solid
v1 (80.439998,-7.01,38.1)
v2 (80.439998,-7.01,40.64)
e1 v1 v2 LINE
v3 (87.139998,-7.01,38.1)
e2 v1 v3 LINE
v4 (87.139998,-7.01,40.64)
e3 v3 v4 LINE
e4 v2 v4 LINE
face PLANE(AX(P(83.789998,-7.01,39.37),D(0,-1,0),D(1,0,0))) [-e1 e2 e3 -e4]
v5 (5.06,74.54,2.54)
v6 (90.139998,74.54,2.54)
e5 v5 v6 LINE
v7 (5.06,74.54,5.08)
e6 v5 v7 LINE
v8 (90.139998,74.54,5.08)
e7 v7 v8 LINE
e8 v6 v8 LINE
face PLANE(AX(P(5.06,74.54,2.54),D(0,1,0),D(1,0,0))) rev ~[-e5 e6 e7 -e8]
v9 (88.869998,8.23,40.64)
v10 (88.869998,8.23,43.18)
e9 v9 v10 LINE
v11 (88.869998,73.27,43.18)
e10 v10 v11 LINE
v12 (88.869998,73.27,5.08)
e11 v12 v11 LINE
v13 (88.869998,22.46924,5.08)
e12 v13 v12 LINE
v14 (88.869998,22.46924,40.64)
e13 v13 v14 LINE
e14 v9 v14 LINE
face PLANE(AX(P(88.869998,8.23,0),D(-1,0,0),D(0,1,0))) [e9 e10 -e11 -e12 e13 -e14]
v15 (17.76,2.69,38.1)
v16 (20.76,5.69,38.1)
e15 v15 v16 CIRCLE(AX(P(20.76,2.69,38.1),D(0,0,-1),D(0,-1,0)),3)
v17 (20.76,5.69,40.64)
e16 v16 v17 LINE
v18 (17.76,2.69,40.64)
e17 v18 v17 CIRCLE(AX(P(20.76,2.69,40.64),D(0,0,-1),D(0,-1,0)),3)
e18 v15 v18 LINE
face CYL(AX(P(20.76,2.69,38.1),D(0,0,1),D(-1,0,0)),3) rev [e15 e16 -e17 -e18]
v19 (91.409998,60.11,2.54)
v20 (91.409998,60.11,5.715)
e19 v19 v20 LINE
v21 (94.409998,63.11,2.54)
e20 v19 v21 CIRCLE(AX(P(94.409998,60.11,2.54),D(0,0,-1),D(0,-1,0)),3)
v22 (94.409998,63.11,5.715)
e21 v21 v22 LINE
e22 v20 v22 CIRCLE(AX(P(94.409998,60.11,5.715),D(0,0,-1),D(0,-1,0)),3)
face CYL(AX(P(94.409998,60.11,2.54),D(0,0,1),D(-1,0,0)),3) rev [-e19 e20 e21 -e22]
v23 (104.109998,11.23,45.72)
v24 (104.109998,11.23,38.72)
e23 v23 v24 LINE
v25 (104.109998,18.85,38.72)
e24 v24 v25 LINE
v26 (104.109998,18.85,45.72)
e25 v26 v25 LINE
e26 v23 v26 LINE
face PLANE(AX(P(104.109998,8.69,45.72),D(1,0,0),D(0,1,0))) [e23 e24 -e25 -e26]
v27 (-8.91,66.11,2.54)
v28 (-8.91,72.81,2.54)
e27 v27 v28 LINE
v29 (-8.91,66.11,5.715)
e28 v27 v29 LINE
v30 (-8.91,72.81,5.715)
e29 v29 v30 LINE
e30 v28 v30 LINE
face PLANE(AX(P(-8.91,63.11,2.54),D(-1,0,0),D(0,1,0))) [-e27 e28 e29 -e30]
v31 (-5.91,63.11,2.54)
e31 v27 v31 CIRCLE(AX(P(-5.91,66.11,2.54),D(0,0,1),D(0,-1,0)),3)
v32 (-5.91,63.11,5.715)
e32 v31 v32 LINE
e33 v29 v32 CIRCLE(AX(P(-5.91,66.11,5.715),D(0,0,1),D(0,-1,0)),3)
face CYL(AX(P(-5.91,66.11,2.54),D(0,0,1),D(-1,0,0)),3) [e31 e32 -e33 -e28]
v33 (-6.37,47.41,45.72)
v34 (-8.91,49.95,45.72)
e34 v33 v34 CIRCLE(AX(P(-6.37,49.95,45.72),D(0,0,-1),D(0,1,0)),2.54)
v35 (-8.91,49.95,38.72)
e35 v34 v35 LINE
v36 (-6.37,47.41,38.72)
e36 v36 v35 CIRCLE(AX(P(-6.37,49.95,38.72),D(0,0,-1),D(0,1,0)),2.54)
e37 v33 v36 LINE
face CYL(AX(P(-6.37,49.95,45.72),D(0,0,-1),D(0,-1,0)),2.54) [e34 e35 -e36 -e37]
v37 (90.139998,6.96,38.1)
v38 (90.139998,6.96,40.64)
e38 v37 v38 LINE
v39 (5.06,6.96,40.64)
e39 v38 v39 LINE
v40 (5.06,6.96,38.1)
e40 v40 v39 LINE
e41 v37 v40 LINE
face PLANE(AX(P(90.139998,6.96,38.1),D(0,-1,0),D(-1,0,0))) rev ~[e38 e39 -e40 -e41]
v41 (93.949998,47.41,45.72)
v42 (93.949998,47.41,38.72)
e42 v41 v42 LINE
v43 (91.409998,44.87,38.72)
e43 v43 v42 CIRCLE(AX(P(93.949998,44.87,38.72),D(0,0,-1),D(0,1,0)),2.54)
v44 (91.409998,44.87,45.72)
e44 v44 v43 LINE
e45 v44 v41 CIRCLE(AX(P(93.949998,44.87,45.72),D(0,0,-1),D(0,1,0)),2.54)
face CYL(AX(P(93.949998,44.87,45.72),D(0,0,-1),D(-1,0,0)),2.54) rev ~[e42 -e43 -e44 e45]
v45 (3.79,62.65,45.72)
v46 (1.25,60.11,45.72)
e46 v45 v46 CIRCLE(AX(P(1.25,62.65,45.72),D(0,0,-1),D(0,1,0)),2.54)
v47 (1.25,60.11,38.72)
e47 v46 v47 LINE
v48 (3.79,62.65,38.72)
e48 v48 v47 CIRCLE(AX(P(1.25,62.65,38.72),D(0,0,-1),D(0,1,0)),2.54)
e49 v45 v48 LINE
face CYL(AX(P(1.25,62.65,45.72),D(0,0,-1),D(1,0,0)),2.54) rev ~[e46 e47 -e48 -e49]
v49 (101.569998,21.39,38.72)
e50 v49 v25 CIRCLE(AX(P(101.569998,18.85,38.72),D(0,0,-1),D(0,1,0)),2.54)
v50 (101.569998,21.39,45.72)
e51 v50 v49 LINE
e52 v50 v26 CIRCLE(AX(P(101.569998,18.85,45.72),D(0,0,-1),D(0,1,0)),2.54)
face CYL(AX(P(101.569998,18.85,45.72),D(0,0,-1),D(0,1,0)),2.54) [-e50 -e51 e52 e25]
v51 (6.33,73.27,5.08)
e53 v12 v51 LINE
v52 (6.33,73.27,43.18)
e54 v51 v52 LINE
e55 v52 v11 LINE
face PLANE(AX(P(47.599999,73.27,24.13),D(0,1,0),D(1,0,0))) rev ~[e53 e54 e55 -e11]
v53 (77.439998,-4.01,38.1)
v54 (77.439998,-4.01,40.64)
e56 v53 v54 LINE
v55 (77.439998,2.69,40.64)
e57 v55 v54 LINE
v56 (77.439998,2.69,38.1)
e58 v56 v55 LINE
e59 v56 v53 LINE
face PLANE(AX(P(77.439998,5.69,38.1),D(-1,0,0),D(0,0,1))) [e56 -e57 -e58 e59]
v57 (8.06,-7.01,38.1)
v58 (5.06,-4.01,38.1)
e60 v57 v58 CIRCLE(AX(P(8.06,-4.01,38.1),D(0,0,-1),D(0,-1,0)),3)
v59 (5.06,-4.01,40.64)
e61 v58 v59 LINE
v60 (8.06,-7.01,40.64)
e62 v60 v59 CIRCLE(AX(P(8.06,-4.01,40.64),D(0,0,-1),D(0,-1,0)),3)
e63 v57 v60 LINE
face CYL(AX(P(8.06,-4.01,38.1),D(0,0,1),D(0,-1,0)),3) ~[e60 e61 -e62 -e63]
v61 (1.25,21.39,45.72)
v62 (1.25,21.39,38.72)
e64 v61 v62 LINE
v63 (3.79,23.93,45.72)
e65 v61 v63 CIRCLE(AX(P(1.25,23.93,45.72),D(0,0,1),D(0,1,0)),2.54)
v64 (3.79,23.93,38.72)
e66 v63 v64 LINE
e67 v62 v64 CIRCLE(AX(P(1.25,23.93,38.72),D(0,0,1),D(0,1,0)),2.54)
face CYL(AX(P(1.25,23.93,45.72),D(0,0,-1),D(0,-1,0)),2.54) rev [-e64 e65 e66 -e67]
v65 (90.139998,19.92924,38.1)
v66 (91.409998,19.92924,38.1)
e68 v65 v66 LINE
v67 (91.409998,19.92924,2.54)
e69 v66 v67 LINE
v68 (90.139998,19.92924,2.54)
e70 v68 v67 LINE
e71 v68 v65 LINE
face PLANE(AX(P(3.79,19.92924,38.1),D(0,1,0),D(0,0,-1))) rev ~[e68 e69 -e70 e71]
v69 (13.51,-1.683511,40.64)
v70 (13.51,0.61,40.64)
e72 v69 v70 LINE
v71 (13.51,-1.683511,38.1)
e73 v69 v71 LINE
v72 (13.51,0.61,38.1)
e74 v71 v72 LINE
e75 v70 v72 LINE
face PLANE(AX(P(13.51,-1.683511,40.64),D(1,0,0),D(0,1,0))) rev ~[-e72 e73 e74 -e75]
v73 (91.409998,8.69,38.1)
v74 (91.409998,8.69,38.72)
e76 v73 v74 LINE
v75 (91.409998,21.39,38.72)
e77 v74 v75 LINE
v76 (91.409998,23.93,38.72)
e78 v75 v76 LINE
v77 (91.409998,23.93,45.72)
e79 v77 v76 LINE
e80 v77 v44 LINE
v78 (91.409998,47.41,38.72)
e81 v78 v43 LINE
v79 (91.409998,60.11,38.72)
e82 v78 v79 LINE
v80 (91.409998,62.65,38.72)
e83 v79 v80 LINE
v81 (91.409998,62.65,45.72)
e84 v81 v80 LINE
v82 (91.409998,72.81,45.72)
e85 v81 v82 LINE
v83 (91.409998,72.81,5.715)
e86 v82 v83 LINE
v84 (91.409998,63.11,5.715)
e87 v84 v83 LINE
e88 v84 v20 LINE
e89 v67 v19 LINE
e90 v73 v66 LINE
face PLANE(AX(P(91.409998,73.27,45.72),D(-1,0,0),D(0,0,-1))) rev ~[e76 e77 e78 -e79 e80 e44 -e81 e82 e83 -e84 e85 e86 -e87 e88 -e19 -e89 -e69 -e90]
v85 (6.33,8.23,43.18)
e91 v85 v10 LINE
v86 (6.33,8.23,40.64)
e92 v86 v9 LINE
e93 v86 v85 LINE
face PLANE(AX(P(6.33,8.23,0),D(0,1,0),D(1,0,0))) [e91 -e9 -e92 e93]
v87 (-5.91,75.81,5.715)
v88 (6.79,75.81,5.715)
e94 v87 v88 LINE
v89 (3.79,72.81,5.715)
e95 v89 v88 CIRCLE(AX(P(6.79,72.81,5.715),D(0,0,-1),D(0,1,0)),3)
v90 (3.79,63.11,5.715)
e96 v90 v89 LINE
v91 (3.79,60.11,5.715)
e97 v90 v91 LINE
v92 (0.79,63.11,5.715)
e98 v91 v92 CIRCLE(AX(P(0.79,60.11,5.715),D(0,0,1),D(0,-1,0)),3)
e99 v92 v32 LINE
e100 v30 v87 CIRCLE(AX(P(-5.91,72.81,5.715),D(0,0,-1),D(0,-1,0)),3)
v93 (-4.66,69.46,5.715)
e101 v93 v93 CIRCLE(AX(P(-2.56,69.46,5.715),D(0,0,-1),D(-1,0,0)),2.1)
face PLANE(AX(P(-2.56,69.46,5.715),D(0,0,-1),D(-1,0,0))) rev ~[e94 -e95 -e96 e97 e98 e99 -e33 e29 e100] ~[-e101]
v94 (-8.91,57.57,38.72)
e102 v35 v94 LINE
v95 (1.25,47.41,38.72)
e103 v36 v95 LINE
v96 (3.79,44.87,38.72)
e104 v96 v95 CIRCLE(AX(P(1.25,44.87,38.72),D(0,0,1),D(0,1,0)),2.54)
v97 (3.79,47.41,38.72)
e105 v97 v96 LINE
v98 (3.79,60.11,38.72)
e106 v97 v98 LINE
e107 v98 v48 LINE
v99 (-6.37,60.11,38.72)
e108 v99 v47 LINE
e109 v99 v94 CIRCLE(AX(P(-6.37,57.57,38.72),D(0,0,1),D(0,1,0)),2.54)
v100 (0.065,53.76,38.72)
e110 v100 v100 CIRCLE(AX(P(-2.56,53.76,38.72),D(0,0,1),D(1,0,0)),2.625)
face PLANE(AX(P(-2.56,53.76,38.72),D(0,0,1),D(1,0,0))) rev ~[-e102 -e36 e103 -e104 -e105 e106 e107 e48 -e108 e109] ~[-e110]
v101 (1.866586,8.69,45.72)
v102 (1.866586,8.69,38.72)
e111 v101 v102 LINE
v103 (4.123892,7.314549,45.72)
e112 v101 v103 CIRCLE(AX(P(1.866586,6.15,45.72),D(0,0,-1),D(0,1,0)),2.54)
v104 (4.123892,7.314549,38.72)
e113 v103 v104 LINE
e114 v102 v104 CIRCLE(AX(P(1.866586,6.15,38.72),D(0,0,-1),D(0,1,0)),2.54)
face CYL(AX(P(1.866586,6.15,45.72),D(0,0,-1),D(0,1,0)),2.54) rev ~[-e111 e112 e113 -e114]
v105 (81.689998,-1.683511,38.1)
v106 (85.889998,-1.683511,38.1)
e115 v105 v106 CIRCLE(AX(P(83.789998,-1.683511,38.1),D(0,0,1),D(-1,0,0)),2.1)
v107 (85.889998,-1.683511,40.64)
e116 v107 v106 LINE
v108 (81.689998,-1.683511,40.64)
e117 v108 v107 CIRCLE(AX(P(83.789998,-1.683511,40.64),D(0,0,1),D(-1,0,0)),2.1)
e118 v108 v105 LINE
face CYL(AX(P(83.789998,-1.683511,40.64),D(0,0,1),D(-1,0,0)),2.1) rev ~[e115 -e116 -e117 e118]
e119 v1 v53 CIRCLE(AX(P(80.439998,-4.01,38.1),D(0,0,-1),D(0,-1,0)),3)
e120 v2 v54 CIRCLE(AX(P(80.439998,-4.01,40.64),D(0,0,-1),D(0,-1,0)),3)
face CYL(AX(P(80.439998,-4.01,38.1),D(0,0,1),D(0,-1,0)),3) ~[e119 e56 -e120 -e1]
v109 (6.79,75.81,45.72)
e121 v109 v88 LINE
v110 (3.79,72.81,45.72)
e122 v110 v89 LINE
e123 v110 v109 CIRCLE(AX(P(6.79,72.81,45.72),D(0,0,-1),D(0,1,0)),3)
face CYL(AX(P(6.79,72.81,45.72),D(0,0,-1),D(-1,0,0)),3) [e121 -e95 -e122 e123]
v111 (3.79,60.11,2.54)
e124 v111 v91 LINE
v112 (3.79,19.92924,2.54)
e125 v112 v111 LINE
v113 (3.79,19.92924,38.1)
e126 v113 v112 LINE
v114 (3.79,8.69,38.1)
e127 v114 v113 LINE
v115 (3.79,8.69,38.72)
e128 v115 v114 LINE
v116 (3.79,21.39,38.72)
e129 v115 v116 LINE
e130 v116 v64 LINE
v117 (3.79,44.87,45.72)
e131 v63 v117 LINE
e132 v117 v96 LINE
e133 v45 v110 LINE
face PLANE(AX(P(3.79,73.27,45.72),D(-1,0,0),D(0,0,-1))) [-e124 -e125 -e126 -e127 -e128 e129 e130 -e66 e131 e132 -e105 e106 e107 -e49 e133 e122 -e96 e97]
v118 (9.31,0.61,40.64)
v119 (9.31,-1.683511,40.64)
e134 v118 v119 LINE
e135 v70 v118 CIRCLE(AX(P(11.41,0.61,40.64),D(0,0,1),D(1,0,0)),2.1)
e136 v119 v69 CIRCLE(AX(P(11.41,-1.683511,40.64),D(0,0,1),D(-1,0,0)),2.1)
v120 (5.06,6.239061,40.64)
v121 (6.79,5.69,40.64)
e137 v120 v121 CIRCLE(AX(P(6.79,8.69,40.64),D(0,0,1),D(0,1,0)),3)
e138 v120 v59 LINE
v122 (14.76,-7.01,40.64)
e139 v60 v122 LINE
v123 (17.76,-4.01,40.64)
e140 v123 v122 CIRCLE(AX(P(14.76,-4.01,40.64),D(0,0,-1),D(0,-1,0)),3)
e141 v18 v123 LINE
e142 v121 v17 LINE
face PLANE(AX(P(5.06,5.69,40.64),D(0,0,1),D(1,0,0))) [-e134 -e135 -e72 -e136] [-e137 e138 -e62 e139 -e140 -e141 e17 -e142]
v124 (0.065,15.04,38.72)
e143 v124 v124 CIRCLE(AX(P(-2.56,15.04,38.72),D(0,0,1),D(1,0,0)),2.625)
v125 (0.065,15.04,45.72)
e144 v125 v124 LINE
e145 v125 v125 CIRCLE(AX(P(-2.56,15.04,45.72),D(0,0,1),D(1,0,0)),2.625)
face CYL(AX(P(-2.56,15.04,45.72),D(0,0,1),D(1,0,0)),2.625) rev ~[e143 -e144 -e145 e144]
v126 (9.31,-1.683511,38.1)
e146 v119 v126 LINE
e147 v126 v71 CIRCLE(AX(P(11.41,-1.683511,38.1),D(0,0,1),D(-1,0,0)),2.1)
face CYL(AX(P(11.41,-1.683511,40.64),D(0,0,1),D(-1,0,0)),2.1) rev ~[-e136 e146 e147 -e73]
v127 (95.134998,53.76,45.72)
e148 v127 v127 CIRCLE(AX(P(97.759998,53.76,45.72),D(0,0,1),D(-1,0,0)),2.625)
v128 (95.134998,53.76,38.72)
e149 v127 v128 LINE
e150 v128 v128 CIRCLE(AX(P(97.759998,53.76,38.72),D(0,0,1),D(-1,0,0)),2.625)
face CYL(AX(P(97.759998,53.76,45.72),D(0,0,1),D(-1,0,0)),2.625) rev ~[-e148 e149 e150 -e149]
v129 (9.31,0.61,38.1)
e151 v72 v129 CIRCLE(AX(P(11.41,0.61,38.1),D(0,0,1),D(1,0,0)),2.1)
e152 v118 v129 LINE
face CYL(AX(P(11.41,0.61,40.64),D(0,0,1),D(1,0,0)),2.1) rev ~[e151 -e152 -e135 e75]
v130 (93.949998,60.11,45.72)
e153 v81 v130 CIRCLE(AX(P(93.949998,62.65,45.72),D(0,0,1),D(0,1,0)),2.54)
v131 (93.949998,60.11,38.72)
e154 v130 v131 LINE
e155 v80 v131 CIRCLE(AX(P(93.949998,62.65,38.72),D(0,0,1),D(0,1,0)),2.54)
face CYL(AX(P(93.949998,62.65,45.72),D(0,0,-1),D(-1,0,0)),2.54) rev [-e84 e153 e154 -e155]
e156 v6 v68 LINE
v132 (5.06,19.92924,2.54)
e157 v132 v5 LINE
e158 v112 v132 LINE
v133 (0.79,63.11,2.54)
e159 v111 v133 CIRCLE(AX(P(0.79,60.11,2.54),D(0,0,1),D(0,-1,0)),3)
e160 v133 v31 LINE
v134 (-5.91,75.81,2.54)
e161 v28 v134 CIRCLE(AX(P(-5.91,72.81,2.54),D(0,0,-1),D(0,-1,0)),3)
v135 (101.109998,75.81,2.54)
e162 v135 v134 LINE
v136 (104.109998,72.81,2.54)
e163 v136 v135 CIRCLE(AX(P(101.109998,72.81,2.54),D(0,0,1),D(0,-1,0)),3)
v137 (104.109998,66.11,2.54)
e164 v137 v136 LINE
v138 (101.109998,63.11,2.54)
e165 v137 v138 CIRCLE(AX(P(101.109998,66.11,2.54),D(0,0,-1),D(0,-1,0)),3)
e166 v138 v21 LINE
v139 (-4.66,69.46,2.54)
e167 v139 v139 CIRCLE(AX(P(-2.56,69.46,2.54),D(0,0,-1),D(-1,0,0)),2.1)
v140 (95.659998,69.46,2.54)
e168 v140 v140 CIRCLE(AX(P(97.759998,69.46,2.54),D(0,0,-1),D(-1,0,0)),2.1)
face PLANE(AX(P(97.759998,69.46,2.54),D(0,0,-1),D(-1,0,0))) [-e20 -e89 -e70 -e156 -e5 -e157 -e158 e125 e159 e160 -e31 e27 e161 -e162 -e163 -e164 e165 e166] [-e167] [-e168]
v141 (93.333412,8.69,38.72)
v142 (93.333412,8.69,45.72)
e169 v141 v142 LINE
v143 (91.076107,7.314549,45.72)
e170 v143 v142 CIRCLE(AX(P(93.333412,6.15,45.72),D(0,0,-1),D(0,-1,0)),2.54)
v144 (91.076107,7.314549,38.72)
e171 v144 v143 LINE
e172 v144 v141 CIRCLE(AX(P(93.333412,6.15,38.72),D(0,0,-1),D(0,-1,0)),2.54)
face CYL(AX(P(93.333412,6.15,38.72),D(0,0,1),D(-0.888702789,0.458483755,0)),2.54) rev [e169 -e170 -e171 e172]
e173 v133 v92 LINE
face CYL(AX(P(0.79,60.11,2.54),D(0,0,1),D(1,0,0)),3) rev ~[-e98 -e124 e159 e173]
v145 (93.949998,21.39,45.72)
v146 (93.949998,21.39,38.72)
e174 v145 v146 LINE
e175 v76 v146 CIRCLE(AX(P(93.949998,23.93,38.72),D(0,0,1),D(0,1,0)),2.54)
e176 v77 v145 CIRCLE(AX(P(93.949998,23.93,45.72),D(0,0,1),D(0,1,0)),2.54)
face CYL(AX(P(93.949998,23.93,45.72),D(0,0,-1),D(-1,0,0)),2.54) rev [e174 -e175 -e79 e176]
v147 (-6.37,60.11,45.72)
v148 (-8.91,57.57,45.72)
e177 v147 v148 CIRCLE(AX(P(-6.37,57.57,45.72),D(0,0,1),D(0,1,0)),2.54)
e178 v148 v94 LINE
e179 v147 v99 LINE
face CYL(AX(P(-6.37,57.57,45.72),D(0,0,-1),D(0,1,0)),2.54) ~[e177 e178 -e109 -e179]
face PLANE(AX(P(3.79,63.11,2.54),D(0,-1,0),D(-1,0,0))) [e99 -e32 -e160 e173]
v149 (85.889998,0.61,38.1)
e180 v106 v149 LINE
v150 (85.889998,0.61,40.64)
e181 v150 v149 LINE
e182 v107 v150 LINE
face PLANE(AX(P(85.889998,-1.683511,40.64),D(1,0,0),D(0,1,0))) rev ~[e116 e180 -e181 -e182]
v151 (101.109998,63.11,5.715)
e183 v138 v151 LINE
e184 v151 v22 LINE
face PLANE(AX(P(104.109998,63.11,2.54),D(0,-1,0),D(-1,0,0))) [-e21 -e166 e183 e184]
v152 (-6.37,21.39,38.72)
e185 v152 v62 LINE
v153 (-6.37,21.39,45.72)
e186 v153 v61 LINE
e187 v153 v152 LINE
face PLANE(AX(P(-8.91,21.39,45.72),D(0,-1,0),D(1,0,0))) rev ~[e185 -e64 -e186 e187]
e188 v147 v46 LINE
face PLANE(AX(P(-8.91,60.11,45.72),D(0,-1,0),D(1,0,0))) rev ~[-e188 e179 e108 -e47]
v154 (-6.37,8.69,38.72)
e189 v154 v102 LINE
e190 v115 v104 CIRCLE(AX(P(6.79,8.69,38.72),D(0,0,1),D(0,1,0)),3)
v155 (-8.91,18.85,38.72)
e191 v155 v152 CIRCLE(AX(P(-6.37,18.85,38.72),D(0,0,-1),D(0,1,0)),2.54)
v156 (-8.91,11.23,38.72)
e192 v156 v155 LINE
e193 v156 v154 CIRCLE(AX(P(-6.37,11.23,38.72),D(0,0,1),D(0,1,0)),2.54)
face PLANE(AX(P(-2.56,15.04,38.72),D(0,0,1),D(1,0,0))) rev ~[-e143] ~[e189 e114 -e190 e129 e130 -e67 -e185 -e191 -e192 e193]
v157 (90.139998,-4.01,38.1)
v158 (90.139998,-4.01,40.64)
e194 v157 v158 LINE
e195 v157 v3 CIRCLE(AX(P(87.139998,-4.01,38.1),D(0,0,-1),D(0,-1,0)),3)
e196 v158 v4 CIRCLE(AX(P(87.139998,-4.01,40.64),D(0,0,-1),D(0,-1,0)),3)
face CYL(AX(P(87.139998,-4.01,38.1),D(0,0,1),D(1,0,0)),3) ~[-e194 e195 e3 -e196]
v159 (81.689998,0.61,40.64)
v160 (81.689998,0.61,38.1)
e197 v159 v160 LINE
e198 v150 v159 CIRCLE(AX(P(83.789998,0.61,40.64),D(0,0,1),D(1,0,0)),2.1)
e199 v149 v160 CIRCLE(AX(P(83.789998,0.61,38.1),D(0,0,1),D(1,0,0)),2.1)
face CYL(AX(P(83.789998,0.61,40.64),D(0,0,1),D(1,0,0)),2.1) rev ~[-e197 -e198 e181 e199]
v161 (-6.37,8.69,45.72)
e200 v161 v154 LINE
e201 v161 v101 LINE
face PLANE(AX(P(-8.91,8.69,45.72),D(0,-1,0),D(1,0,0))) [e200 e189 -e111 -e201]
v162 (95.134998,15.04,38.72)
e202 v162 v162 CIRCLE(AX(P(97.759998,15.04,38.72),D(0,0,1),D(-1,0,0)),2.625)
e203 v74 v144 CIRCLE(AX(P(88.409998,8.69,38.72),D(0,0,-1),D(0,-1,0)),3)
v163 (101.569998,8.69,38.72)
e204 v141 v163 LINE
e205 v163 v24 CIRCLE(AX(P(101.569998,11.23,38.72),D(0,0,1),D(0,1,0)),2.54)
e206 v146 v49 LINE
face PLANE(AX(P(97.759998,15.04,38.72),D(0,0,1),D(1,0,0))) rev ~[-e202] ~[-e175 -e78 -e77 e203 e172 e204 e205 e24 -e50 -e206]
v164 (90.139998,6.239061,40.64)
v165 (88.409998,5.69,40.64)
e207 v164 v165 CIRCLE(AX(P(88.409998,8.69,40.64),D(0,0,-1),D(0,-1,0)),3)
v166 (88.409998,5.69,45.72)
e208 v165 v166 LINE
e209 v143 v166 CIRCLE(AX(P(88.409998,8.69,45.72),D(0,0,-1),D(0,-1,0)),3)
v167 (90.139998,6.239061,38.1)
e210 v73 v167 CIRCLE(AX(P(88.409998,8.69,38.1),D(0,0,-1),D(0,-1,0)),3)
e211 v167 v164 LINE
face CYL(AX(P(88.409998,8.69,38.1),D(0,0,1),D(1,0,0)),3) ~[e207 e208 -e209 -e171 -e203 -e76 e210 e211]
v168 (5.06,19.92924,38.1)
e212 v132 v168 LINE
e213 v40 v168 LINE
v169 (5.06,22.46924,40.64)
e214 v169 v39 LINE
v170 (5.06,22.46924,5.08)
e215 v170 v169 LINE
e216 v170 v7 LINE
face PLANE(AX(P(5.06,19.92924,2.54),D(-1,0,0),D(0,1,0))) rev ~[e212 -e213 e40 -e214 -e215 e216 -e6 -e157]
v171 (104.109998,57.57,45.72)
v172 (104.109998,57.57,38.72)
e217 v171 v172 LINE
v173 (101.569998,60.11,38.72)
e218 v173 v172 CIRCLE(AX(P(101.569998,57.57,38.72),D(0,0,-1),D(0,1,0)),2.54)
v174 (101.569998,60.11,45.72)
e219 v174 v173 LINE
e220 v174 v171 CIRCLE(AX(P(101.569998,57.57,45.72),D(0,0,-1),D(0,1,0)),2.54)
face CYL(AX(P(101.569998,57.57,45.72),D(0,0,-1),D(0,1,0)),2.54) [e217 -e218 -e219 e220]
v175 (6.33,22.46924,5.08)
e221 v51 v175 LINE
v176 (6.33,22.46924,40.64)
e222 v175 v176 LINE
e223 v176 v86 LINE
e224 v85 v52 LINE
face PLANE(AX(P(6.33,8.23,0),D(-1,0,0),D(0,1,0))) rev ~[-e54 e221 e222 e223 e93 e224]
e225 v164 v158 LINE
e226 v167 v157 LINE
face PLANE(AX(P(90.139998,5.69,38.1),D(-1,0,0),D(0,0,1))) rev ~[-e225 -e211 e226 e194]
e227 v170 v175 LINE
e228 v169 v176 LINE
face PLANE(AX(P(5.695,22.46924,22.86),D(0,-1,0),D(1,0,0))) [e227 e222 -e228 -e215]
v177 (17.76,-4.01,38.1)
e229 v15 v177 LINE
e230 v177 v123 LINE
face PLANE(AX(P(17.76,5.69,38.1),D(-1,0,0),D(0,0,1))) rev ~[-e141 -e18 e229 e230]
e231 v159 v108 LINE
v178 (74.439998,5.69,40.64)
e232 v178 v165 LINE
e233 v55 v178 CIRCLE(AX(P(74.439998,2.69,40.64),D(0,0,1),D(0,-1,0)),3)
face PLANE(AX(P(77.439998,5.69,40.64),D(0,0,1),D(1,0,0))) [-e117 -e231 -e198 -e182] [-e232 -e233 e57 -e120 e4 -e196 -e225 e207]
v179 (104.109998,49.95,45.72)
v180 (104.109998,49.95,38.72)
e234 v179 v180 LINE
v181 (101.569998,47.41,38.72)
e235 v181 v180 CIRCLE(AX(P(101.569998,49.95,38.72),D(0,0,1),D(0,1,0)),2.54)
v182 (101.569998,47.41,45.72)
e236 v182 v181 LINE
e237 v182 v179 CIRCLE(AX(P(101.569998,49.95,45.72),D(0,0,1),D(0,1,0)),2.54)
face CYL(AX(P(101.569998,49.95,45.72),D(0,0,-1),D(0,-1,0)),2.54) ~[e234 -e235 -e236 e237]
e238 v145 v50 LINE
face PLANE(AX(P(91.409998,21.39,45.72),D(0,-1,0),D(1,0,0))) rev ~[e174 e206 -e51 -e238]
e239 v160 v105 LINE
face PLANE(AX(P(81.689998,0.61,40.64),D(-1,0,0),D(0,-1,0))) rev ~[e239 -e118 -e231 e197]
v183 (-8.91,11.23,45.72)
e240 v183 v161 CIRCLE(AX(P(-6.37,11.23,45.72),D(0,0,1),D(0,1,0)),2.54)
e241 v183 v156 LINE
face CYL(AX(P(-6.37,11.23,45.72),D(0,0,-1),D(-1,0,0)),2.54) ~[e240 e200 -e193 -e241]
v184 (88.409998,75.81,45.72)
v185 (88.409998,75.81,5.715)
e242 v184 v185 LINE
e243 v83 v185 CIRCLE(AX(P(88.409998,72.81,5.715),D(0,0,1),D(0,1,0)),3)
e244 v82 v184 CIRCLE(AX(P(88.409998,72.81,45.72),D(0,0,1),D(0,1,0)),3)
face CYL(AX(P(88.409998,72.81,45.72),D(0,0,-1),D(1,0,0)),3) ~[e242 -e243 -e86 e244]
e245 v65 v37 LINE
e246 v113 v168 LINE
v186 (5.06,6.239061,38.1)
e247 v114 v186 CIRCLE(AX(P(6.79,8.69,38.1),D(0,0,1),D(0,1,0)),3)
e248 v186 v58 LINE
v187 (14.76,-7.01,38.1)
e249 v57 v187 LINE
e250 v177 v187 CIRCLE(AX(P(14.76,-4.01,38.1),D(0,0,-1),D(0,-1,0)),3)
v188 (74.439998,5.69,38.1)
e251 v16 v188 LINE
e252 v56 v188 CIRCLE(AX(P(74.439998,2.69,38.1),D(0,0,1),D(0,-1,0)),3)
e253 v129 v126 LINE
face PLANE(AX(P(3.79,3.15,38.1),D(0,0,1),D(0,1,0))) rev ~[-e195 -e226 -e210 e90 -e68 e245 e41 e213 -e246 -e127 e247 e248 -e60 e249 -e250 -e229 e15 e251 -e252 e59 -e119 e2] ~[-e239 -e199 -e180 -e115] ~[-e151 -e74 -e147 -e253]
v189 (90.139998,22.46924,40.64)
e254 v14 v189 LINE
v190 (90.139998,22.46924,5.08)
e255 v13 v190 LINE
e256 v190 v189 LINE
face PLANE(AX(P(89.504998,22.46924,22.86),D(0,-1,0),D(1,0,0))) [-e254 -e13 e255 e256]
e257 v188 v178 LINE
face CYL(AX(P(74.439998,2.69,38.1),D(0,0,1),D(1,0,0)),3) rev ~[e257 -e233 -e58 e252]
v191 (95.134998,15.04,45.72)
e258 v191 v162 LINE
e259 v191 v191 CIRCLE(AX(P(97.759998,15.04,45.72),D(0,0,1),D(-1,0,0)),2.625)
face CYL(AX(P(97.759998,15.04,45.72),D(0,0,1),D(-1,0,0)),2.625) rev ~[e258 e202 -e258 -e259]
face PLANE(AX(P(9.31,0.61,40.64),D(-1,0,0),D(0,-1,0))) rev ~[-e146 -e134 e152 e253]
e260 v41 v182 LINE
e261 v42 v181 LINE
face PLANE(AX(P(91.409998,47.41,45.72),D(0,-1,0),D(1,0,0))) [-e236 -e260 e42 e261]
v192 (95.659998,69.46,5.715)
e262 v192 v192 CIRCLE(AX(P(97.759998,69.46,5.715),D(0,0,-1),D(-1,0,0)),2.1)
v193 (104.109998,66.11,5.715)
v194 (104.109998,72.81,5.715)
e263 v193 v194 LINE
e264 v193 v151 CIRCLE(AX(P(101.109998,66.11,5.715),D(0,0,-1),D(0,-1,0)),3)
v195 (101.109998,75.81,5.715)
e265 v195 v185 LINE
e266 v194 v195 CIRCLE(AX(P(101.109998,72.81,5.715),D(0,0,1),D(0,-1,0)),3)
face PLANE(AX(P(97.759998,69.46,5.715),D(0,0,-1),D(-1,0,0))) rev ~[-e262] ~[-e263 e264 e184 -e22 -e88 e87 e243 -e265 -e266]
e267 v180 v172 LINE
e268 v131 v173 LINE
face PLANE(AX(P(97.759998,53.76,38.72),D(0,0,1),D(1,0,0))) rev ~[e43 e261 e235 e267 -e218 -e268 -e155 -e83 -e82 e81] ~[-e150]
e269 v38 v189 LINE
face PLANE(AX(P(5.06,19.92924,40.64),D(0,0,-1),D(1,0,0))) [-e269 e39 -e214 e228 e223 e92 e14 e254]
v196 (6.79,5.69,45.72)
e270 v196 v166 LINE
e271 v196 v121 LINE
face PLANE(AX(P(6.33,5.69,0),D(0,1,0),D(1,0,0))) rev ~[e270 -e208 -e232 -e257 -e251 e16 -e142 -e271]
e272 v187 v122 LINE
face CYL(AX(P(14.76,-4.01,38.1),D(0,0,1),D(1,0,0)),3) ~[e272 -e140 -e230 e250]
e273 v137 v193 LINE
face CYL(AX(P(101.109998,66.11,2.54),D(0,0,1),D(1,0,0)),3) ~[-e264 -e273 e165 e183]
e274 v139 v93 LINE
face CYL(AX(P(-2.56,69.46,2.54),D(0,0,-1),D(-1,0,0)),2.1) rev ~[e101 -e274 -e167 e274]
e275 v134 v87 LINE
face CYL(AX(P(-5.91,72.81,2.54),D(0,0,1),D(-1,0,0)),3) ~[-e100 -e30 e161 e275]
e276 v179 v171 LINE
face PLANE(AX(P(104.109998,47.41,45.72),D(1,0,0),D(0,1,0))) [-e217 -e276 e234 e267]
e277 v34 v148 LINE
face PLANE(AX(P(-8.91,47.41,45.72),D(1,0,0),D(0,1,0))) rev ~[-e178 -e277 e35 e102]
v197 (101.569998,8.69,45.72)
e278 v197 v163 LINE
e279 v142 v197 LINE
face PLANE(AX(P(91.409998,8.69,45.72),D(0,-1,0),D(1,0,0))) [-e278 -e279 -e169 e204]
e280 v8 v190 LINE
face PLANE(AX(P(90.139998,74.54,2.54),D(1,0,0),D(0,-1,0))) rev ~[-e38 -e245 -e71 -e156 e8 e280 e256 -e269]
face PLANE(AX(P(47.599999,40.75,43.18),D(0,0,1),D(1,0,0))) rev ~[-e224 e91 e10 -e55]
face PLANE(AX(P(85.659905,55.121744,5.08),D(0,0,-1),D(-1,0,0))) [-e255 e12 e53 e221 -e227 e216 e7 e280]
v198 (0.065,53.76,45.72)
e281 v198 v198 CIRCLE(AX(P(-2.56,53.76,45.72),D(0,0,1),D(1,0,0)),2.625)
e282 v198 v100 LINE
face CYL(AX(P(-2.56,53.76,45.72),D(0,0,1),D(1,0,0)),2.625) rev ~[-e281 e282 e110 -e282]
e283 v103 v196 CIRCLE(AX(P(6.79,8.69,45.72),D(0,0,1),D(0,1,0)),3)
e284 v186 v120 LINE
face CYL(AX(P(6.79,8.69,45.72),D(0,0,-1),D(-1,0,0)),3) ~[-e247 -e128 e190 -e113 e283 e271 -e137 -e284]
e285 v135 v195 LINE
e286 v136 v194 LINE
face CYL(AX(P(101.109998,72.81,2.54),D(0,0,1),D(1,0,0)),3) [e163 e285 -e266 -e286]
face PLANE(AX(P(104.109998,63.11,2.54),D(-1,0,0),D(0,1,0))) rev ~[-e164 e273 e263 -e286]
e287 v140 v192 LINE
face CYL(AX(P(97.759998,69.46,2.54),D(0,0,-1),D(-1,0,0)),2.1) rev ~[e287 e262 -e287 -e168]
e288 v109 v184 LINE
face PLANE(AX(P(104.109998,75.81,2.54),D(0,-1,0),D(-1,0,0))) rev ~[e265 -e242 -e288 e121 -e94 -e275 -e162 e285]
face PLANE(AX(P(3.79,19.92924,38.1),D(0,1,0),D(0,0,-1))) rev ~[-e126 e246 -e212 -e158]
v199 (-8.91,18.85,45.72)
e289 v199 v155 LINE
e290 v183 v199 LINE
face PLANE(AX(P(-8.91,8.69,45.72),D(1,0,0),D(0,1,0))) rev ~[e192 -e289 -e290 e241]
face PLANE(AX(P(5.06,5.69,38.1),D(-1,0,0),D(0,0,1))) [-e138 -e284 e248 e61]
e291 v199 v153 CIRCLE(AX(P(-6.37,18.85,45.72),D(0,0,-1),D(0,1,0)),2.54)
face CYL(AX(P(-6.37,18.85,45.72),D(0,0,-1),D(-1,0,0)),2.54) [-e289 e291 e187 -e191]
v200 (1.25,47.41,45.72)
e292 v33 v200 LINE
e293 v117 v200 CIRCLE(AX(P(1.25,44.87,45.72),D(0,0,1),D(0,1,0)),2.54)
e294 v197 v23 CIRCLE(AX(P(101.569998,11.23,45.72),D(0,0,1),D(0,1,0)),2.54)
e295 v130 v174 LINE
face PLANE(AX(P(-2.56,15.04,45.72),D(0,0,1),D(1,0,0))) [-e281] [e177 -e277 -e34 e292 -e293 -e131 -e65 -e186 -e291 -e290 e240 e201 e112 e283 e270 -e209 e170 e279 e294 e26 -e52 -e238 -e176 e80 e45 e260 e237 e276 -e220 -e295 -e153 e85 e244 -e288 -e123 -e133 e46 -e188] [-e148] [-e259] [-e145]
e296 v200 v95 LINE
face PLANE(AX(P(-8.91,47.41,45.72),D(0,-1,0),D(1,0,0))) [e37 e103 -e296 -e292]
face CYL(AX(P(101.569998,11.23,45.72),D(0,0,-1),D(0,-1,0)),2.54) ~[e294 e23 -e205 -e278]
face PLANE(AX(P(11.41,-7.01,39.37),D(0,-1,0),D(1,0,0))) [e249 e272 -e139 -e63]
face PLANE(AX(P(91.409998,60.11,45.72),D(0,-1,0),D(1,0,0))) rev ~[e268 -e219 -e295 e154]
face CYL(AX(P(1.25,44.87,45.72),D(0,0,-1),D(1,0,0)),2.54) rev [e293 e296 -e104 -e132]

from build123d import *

# Parameters (mm, degrees)
SKETCH1_W           = 82.539998569
SKETCH1_H           = 65.04
BOSS_EXTRUDE1_DEPTH = 43.18
SHELL1_T            = 2.54
CUT_EXTRUDE2_DEPTH  = 124.028758627
SKETCH7_W           = 87.619998569
SKETCH7_H           = 43.18
BOSS_EXTRUDE2_DEPTH = 2.54
CUT_EXTRUDE3_DEPTH  = 2.54
CUT_EXTRUDE4_DEPTH  = 2.54
SKETCH10_W          = 1.27
SKETCH10_H          = 35.56
CUT_EXTRUDE5_DEPTH  = 2.54
SKETCH11_W          = 12.7
SKETCH11_H          = 2.54
BOSS_EXTRUDE3_DEPTH = 12.7
CUT_EXTRUDE7_DEPTH  = 125.717897357
SKETCH13_W          = 12.7
SKETCH13_H          = 12.7
SKETCH13_R          = 2.1
BOSS_EXTRUDE4_DEPTH = 3.175
FILLET2_R           = 3
SKETCH14_W          = 12.7
SKETCH14_H          = 12.7
SKETCH14_R          = 2.625
BOSS_EXTRUDE5_DEPTH = 7
FILLET3_R           = 2.54


with BuildPart() as part:
    # Sketch1 → Boss-Extrude1 (new body)
    with BuildSketch(Plane.XY):
        with Locations((47.599999189, 40.75)):
            Rectangle(SKETCH1_W, SKETCH1_H)
    extrude(amount=BOSS_EXTRUDE1_DEPTH)

    # Shell1
    shell1_openings = [part.faces().sort_by_distance(p)[0] for p in [
        (47.599999189, 73.27, 21.59),
        (47.599999189, 40.75, 0),
    ]]
    offset(amount=SHELL1_T, openings=shell1_openings, kind=Kind.INTERSECTION)

    # Sketch6 → Cut-Extrude2 (cut, through all)
    with BuildSketch(Plane.ZY.offset(-3.789999905)):
        Polygon((2.54, 59.03), (2.54, 73.27), (0, 73.27), (0, 59.03), (0, 3.15), (38.1, 3.15), (38.1, 19.92924), (2.54, 19.92924), align=None)
    extrude(amount=-CUT_EXTRUDE2_DEPTH, mode=Mode.SUBTRACT)

    # Sketch7 → Boss-Extrude2 (add)
    with BuildSketch(Plane(origin=(0, 73.27, 0), x_dir=(1, 0, 0), z_dir=(0, 1, 0))):
        with Locations((47.59999919, -24.13)):
            Rectangle(SKETCH7_W, SKETCH7_H)
    extrude(amount=BOSS_EXTRUDE2_DEPTH)

    # Sketch8 → Cut-Extrude3 (cut)
    with BuildSketch(Plane(origin=(0, 0, 2.54), x_dir=(-1, 0, 0), z_dir=(0, 0, -1))):
        Polygon((-65.405564728, 73.27), (-65.405564728, 74.54), (-90.139998474, 74.54), (-90.139998474, 19.92924), (-88.869998474, 19.92924), (-88.869998474, 73.27), align=None)
        Polygon((-5.059999905, 74.54), (-65.405564728, 74.54), (-65.405564728, 73.27), (-6.329999905, 73.27), (-6.329999905, 19.92924), (-5.059999905, 19.92924), align=None)
    extrude(amount=-CUT_EXTRUDE3_DEPTH, mode=Mode.SUBTRACT)

    # Sketch9 → Cut-Extrude4 (cut)
    with BuildSketch(Plane(origin=(0, 0, 38.1), x_dir=(-1, 0, 0), z_dir=(0, 0, -1))):
        Polygon((-90.139998474, 19.92924), (-90.139998474, 6.96), (-5.059999905, 6.96), (-5.059999905, 19.92924), (-6.329999905, 19.92924), (-6.329999905, 8.23), (-88.869998474, 8.23), (-88.869998474, 19.92924), align=None)
    extrude(amount=-CUT_EXTRUDE4_DEPTH, mode=Mode.SUBTRACT)

    # Sketch10 → Cut-Extrude5 (cut)
    with BuildSketch(Plane.XZ.offset(-19.92924)):
        with Locations((5.694999905, 22.86)):
            Rectangle(SKETCH10_W, SKETCH10_H)
        with Locations((89.504998474, 22.86)):
            Rectangle(SKETCH10_W, SKETCH10_H)
    extrude(amount=-CUT_EXTRUDE5_DEPTH, mode=Mode.SUBTRACT)

    # Sketch11 → Boss-Extrude3 (add)
    with BuildSketch(Plane.XZ.offset(-5.69)):
        with Locations((11.409999905, 39.37)):
            Rectangle(SKETCH11_W, SKETCH11_H)
        with Locations((83.789998474, 39.37)):
            Rectangle(SKETCH11_W, SKETCH11_H)
    extrude(amount=BOSS_EXTRUDE3_DEPTH)

    # Sketch12 → Cut-Extrude7 (cut, through all)
    with BuildSketch(Plane.XY.offset(40.64)):
        with BuildLine():
            Line((9.309999905, 0.61), (9.309999905, -1.683510845))
            ThreePointArc((9.309999905, -1.683510845), (11.409999905, -3.783510845), (13.509999905, -1.683510845))
            Line((13.509999905, -1.683510845), (13.509999905, 0.61))
            ThreePointArc((13.509999905, 0.61), (11.409999905, 2.71), (9.309999905, 0.61))
        make_face()
        with BuildLine():
            Line((81.689998474, 0.61), (81.689998474, -1.683510845))
            ThreePointArc((81.689998474, -1.683510845), (83.789998474, -3.783510845), (85.889998474, -1.683510845))
            Line((85.889998474, -1.683510845), (85.889998474, 0.61))
            ThreePointArc((85.889998474, 0.61), (83.789998474, 2.71), (81.689998474, 0.61))
        make_face()
    extrude(amount=-CUT_EXTRUDE7_DEPTH, mode=Mode.SUBTRACT)

    # Sketch13 → Boss-Extrude4 (add)
    # profile 1 of 2: a face of its own
    with BuildSketch(Plane(origin=(0, 0, 2.54), x_dir=(-1, 0, 0), z_dir=(0, 0, -1))):
        with Locations((-97.759998474, 69.46)):
            Rectangle(SKETCH13_W, SKETCH13_H)
        with Locations((-97.759998474, 69.46)):
            Circle(SKETCH13_R, mode=Mode.SUBTRACT)
    # profile 2 of 2: a face of its own
    with BuildSketch(Plane(origin=(0, 0, 2.54), x_dir=(-1, 0, 0), z_dir=(0, 0, -1))):
        with Locations((2.560000095, 69.46)):
            Rectangle(SKETCH13_W, SKETCH13_H)
        with Locations((2.560000095, 69.46)):
            Circle(SKETCH13_R, mode=Mode.SUBTRACT)
    extrude(amount=-BOSS_EXTRUDE4_DEPTH)

    # Fillet2
    fillet2_edges = [part.edges().sort_by_distance(p)[0] for p in [
        (77.439998474, 5.69, 39.37),
        (77.439998474, -7.01, 39.37),
        (90.139998474, -7.01, 39.37),
        (17.759999905, -7.01, 39.37),
        (5.059999905, -7.01, 39.37),
        (17.759999905, 5.69, 39.37),
        (3.789999905, 63.11, 4.1275),
        (-8.910000095, 63.11, 4.1275),
        (-8.910000095, 75.81, 4.1275),
        (91.409998474, 63.11, 4.1275),
        (104.109998474, 63.11, 4.1275),
        (104.109998474, 75.81, 4.1275),
        (91.409998474, 75.81, 25.7175),
        (3.789999905, 75.81, 25.7175),
        (3.789999905, 5.69, 41.91),
        (91.409998474, 5.69, 41.91),
    ]]
    fillet(fillet2_edges, radius=FILLET2_R)

    # Sketch14 → Boss-Extrude5 (add)
    # profile 1 of 4: a face of its own
    with BuildSketch(Plane.XY.offset(45.72)):
        with Locations((-2.560000095, 53.76)):
            Rectangle(SKETCH14_W, SKETCH14_H)
        with Locations((-2.560000095, 53.76)):
            Circle(SKETCH14_R, mode=Mode.SUBTRACT)
    # profile 2 of 4: a face of its own
    with BuildSketch(Plane.XY.offset(45.72)):
        with Locations((-2.560000095, 15.04)):
            Rectangle(SKETCH14_W, SKETCH14_H)
        with Locations((-2.560000095, 15.04)):
            Circle(SKETCH14_R, mode=Mode.SUBTRACT)
    # profile 3 of 4: a face of its own
    with BuildSketch(Plane.XY.offset(45.72)):
        with Locations((97.759998474, 15.04)):
            Rectangle(SKETCH14_W, SKETCH14_H)
        with Locations(Location((97.759998474, 15.04, 0), (0, 0, 180))):
            Circle(SKETCH14_R, mode=Mode.SUBTRACT)
    # profile 4 of 4: a face of its own
    with BuildSketch(Plane.XY.offset(45.72)):
        with Locations((97.759998474, 53.76)):
            Rectangle(SKETCH14_W, SKETCH14_H)
        with Locations(Location((97.759998474, 53.76, 0), (0, 0, 180))):
            Circle(SKETCH14_R, mode=Mode.SUBTRACT)
    extrude(amount=-BOSS_EXTRUDE5_DEPTH)

    # Fillet3
    fillet3_edges = [part.edges().sort_by_distance(p)[0] for p in [
        (91.409998474, 8.69, 42.22),
        (3.789999905, 60.11, 42.22),
        (3.789999905, 47.41, 42.22),
        (-8.910000095, 47.41, 42.22),
        (-8.910000095, 60.11, 42.22),
        (3.789999905, 21.39, 42.22),
        (3.789999905, 8.69, 42.22),
        (-8.910000095, 8.69, 42.22),
        (-8.910000095, 21.39, 42.22),
        (91.409998474, 21.39, 42.22),
        (104.109998474, 21.39, 42.22),
        (104.109998474, 8.69, 42.22),
        (91.409998474, 47.41, 42.22),
        (91.409998474, 60.11, 42.22),
        (104.109998474, 60.11, 42.22),
        (104.109998474, 47.41, 42.22),
    ]]
    fillet(fillet3_edges, radius=FILLET3_R)


solid = part.part
